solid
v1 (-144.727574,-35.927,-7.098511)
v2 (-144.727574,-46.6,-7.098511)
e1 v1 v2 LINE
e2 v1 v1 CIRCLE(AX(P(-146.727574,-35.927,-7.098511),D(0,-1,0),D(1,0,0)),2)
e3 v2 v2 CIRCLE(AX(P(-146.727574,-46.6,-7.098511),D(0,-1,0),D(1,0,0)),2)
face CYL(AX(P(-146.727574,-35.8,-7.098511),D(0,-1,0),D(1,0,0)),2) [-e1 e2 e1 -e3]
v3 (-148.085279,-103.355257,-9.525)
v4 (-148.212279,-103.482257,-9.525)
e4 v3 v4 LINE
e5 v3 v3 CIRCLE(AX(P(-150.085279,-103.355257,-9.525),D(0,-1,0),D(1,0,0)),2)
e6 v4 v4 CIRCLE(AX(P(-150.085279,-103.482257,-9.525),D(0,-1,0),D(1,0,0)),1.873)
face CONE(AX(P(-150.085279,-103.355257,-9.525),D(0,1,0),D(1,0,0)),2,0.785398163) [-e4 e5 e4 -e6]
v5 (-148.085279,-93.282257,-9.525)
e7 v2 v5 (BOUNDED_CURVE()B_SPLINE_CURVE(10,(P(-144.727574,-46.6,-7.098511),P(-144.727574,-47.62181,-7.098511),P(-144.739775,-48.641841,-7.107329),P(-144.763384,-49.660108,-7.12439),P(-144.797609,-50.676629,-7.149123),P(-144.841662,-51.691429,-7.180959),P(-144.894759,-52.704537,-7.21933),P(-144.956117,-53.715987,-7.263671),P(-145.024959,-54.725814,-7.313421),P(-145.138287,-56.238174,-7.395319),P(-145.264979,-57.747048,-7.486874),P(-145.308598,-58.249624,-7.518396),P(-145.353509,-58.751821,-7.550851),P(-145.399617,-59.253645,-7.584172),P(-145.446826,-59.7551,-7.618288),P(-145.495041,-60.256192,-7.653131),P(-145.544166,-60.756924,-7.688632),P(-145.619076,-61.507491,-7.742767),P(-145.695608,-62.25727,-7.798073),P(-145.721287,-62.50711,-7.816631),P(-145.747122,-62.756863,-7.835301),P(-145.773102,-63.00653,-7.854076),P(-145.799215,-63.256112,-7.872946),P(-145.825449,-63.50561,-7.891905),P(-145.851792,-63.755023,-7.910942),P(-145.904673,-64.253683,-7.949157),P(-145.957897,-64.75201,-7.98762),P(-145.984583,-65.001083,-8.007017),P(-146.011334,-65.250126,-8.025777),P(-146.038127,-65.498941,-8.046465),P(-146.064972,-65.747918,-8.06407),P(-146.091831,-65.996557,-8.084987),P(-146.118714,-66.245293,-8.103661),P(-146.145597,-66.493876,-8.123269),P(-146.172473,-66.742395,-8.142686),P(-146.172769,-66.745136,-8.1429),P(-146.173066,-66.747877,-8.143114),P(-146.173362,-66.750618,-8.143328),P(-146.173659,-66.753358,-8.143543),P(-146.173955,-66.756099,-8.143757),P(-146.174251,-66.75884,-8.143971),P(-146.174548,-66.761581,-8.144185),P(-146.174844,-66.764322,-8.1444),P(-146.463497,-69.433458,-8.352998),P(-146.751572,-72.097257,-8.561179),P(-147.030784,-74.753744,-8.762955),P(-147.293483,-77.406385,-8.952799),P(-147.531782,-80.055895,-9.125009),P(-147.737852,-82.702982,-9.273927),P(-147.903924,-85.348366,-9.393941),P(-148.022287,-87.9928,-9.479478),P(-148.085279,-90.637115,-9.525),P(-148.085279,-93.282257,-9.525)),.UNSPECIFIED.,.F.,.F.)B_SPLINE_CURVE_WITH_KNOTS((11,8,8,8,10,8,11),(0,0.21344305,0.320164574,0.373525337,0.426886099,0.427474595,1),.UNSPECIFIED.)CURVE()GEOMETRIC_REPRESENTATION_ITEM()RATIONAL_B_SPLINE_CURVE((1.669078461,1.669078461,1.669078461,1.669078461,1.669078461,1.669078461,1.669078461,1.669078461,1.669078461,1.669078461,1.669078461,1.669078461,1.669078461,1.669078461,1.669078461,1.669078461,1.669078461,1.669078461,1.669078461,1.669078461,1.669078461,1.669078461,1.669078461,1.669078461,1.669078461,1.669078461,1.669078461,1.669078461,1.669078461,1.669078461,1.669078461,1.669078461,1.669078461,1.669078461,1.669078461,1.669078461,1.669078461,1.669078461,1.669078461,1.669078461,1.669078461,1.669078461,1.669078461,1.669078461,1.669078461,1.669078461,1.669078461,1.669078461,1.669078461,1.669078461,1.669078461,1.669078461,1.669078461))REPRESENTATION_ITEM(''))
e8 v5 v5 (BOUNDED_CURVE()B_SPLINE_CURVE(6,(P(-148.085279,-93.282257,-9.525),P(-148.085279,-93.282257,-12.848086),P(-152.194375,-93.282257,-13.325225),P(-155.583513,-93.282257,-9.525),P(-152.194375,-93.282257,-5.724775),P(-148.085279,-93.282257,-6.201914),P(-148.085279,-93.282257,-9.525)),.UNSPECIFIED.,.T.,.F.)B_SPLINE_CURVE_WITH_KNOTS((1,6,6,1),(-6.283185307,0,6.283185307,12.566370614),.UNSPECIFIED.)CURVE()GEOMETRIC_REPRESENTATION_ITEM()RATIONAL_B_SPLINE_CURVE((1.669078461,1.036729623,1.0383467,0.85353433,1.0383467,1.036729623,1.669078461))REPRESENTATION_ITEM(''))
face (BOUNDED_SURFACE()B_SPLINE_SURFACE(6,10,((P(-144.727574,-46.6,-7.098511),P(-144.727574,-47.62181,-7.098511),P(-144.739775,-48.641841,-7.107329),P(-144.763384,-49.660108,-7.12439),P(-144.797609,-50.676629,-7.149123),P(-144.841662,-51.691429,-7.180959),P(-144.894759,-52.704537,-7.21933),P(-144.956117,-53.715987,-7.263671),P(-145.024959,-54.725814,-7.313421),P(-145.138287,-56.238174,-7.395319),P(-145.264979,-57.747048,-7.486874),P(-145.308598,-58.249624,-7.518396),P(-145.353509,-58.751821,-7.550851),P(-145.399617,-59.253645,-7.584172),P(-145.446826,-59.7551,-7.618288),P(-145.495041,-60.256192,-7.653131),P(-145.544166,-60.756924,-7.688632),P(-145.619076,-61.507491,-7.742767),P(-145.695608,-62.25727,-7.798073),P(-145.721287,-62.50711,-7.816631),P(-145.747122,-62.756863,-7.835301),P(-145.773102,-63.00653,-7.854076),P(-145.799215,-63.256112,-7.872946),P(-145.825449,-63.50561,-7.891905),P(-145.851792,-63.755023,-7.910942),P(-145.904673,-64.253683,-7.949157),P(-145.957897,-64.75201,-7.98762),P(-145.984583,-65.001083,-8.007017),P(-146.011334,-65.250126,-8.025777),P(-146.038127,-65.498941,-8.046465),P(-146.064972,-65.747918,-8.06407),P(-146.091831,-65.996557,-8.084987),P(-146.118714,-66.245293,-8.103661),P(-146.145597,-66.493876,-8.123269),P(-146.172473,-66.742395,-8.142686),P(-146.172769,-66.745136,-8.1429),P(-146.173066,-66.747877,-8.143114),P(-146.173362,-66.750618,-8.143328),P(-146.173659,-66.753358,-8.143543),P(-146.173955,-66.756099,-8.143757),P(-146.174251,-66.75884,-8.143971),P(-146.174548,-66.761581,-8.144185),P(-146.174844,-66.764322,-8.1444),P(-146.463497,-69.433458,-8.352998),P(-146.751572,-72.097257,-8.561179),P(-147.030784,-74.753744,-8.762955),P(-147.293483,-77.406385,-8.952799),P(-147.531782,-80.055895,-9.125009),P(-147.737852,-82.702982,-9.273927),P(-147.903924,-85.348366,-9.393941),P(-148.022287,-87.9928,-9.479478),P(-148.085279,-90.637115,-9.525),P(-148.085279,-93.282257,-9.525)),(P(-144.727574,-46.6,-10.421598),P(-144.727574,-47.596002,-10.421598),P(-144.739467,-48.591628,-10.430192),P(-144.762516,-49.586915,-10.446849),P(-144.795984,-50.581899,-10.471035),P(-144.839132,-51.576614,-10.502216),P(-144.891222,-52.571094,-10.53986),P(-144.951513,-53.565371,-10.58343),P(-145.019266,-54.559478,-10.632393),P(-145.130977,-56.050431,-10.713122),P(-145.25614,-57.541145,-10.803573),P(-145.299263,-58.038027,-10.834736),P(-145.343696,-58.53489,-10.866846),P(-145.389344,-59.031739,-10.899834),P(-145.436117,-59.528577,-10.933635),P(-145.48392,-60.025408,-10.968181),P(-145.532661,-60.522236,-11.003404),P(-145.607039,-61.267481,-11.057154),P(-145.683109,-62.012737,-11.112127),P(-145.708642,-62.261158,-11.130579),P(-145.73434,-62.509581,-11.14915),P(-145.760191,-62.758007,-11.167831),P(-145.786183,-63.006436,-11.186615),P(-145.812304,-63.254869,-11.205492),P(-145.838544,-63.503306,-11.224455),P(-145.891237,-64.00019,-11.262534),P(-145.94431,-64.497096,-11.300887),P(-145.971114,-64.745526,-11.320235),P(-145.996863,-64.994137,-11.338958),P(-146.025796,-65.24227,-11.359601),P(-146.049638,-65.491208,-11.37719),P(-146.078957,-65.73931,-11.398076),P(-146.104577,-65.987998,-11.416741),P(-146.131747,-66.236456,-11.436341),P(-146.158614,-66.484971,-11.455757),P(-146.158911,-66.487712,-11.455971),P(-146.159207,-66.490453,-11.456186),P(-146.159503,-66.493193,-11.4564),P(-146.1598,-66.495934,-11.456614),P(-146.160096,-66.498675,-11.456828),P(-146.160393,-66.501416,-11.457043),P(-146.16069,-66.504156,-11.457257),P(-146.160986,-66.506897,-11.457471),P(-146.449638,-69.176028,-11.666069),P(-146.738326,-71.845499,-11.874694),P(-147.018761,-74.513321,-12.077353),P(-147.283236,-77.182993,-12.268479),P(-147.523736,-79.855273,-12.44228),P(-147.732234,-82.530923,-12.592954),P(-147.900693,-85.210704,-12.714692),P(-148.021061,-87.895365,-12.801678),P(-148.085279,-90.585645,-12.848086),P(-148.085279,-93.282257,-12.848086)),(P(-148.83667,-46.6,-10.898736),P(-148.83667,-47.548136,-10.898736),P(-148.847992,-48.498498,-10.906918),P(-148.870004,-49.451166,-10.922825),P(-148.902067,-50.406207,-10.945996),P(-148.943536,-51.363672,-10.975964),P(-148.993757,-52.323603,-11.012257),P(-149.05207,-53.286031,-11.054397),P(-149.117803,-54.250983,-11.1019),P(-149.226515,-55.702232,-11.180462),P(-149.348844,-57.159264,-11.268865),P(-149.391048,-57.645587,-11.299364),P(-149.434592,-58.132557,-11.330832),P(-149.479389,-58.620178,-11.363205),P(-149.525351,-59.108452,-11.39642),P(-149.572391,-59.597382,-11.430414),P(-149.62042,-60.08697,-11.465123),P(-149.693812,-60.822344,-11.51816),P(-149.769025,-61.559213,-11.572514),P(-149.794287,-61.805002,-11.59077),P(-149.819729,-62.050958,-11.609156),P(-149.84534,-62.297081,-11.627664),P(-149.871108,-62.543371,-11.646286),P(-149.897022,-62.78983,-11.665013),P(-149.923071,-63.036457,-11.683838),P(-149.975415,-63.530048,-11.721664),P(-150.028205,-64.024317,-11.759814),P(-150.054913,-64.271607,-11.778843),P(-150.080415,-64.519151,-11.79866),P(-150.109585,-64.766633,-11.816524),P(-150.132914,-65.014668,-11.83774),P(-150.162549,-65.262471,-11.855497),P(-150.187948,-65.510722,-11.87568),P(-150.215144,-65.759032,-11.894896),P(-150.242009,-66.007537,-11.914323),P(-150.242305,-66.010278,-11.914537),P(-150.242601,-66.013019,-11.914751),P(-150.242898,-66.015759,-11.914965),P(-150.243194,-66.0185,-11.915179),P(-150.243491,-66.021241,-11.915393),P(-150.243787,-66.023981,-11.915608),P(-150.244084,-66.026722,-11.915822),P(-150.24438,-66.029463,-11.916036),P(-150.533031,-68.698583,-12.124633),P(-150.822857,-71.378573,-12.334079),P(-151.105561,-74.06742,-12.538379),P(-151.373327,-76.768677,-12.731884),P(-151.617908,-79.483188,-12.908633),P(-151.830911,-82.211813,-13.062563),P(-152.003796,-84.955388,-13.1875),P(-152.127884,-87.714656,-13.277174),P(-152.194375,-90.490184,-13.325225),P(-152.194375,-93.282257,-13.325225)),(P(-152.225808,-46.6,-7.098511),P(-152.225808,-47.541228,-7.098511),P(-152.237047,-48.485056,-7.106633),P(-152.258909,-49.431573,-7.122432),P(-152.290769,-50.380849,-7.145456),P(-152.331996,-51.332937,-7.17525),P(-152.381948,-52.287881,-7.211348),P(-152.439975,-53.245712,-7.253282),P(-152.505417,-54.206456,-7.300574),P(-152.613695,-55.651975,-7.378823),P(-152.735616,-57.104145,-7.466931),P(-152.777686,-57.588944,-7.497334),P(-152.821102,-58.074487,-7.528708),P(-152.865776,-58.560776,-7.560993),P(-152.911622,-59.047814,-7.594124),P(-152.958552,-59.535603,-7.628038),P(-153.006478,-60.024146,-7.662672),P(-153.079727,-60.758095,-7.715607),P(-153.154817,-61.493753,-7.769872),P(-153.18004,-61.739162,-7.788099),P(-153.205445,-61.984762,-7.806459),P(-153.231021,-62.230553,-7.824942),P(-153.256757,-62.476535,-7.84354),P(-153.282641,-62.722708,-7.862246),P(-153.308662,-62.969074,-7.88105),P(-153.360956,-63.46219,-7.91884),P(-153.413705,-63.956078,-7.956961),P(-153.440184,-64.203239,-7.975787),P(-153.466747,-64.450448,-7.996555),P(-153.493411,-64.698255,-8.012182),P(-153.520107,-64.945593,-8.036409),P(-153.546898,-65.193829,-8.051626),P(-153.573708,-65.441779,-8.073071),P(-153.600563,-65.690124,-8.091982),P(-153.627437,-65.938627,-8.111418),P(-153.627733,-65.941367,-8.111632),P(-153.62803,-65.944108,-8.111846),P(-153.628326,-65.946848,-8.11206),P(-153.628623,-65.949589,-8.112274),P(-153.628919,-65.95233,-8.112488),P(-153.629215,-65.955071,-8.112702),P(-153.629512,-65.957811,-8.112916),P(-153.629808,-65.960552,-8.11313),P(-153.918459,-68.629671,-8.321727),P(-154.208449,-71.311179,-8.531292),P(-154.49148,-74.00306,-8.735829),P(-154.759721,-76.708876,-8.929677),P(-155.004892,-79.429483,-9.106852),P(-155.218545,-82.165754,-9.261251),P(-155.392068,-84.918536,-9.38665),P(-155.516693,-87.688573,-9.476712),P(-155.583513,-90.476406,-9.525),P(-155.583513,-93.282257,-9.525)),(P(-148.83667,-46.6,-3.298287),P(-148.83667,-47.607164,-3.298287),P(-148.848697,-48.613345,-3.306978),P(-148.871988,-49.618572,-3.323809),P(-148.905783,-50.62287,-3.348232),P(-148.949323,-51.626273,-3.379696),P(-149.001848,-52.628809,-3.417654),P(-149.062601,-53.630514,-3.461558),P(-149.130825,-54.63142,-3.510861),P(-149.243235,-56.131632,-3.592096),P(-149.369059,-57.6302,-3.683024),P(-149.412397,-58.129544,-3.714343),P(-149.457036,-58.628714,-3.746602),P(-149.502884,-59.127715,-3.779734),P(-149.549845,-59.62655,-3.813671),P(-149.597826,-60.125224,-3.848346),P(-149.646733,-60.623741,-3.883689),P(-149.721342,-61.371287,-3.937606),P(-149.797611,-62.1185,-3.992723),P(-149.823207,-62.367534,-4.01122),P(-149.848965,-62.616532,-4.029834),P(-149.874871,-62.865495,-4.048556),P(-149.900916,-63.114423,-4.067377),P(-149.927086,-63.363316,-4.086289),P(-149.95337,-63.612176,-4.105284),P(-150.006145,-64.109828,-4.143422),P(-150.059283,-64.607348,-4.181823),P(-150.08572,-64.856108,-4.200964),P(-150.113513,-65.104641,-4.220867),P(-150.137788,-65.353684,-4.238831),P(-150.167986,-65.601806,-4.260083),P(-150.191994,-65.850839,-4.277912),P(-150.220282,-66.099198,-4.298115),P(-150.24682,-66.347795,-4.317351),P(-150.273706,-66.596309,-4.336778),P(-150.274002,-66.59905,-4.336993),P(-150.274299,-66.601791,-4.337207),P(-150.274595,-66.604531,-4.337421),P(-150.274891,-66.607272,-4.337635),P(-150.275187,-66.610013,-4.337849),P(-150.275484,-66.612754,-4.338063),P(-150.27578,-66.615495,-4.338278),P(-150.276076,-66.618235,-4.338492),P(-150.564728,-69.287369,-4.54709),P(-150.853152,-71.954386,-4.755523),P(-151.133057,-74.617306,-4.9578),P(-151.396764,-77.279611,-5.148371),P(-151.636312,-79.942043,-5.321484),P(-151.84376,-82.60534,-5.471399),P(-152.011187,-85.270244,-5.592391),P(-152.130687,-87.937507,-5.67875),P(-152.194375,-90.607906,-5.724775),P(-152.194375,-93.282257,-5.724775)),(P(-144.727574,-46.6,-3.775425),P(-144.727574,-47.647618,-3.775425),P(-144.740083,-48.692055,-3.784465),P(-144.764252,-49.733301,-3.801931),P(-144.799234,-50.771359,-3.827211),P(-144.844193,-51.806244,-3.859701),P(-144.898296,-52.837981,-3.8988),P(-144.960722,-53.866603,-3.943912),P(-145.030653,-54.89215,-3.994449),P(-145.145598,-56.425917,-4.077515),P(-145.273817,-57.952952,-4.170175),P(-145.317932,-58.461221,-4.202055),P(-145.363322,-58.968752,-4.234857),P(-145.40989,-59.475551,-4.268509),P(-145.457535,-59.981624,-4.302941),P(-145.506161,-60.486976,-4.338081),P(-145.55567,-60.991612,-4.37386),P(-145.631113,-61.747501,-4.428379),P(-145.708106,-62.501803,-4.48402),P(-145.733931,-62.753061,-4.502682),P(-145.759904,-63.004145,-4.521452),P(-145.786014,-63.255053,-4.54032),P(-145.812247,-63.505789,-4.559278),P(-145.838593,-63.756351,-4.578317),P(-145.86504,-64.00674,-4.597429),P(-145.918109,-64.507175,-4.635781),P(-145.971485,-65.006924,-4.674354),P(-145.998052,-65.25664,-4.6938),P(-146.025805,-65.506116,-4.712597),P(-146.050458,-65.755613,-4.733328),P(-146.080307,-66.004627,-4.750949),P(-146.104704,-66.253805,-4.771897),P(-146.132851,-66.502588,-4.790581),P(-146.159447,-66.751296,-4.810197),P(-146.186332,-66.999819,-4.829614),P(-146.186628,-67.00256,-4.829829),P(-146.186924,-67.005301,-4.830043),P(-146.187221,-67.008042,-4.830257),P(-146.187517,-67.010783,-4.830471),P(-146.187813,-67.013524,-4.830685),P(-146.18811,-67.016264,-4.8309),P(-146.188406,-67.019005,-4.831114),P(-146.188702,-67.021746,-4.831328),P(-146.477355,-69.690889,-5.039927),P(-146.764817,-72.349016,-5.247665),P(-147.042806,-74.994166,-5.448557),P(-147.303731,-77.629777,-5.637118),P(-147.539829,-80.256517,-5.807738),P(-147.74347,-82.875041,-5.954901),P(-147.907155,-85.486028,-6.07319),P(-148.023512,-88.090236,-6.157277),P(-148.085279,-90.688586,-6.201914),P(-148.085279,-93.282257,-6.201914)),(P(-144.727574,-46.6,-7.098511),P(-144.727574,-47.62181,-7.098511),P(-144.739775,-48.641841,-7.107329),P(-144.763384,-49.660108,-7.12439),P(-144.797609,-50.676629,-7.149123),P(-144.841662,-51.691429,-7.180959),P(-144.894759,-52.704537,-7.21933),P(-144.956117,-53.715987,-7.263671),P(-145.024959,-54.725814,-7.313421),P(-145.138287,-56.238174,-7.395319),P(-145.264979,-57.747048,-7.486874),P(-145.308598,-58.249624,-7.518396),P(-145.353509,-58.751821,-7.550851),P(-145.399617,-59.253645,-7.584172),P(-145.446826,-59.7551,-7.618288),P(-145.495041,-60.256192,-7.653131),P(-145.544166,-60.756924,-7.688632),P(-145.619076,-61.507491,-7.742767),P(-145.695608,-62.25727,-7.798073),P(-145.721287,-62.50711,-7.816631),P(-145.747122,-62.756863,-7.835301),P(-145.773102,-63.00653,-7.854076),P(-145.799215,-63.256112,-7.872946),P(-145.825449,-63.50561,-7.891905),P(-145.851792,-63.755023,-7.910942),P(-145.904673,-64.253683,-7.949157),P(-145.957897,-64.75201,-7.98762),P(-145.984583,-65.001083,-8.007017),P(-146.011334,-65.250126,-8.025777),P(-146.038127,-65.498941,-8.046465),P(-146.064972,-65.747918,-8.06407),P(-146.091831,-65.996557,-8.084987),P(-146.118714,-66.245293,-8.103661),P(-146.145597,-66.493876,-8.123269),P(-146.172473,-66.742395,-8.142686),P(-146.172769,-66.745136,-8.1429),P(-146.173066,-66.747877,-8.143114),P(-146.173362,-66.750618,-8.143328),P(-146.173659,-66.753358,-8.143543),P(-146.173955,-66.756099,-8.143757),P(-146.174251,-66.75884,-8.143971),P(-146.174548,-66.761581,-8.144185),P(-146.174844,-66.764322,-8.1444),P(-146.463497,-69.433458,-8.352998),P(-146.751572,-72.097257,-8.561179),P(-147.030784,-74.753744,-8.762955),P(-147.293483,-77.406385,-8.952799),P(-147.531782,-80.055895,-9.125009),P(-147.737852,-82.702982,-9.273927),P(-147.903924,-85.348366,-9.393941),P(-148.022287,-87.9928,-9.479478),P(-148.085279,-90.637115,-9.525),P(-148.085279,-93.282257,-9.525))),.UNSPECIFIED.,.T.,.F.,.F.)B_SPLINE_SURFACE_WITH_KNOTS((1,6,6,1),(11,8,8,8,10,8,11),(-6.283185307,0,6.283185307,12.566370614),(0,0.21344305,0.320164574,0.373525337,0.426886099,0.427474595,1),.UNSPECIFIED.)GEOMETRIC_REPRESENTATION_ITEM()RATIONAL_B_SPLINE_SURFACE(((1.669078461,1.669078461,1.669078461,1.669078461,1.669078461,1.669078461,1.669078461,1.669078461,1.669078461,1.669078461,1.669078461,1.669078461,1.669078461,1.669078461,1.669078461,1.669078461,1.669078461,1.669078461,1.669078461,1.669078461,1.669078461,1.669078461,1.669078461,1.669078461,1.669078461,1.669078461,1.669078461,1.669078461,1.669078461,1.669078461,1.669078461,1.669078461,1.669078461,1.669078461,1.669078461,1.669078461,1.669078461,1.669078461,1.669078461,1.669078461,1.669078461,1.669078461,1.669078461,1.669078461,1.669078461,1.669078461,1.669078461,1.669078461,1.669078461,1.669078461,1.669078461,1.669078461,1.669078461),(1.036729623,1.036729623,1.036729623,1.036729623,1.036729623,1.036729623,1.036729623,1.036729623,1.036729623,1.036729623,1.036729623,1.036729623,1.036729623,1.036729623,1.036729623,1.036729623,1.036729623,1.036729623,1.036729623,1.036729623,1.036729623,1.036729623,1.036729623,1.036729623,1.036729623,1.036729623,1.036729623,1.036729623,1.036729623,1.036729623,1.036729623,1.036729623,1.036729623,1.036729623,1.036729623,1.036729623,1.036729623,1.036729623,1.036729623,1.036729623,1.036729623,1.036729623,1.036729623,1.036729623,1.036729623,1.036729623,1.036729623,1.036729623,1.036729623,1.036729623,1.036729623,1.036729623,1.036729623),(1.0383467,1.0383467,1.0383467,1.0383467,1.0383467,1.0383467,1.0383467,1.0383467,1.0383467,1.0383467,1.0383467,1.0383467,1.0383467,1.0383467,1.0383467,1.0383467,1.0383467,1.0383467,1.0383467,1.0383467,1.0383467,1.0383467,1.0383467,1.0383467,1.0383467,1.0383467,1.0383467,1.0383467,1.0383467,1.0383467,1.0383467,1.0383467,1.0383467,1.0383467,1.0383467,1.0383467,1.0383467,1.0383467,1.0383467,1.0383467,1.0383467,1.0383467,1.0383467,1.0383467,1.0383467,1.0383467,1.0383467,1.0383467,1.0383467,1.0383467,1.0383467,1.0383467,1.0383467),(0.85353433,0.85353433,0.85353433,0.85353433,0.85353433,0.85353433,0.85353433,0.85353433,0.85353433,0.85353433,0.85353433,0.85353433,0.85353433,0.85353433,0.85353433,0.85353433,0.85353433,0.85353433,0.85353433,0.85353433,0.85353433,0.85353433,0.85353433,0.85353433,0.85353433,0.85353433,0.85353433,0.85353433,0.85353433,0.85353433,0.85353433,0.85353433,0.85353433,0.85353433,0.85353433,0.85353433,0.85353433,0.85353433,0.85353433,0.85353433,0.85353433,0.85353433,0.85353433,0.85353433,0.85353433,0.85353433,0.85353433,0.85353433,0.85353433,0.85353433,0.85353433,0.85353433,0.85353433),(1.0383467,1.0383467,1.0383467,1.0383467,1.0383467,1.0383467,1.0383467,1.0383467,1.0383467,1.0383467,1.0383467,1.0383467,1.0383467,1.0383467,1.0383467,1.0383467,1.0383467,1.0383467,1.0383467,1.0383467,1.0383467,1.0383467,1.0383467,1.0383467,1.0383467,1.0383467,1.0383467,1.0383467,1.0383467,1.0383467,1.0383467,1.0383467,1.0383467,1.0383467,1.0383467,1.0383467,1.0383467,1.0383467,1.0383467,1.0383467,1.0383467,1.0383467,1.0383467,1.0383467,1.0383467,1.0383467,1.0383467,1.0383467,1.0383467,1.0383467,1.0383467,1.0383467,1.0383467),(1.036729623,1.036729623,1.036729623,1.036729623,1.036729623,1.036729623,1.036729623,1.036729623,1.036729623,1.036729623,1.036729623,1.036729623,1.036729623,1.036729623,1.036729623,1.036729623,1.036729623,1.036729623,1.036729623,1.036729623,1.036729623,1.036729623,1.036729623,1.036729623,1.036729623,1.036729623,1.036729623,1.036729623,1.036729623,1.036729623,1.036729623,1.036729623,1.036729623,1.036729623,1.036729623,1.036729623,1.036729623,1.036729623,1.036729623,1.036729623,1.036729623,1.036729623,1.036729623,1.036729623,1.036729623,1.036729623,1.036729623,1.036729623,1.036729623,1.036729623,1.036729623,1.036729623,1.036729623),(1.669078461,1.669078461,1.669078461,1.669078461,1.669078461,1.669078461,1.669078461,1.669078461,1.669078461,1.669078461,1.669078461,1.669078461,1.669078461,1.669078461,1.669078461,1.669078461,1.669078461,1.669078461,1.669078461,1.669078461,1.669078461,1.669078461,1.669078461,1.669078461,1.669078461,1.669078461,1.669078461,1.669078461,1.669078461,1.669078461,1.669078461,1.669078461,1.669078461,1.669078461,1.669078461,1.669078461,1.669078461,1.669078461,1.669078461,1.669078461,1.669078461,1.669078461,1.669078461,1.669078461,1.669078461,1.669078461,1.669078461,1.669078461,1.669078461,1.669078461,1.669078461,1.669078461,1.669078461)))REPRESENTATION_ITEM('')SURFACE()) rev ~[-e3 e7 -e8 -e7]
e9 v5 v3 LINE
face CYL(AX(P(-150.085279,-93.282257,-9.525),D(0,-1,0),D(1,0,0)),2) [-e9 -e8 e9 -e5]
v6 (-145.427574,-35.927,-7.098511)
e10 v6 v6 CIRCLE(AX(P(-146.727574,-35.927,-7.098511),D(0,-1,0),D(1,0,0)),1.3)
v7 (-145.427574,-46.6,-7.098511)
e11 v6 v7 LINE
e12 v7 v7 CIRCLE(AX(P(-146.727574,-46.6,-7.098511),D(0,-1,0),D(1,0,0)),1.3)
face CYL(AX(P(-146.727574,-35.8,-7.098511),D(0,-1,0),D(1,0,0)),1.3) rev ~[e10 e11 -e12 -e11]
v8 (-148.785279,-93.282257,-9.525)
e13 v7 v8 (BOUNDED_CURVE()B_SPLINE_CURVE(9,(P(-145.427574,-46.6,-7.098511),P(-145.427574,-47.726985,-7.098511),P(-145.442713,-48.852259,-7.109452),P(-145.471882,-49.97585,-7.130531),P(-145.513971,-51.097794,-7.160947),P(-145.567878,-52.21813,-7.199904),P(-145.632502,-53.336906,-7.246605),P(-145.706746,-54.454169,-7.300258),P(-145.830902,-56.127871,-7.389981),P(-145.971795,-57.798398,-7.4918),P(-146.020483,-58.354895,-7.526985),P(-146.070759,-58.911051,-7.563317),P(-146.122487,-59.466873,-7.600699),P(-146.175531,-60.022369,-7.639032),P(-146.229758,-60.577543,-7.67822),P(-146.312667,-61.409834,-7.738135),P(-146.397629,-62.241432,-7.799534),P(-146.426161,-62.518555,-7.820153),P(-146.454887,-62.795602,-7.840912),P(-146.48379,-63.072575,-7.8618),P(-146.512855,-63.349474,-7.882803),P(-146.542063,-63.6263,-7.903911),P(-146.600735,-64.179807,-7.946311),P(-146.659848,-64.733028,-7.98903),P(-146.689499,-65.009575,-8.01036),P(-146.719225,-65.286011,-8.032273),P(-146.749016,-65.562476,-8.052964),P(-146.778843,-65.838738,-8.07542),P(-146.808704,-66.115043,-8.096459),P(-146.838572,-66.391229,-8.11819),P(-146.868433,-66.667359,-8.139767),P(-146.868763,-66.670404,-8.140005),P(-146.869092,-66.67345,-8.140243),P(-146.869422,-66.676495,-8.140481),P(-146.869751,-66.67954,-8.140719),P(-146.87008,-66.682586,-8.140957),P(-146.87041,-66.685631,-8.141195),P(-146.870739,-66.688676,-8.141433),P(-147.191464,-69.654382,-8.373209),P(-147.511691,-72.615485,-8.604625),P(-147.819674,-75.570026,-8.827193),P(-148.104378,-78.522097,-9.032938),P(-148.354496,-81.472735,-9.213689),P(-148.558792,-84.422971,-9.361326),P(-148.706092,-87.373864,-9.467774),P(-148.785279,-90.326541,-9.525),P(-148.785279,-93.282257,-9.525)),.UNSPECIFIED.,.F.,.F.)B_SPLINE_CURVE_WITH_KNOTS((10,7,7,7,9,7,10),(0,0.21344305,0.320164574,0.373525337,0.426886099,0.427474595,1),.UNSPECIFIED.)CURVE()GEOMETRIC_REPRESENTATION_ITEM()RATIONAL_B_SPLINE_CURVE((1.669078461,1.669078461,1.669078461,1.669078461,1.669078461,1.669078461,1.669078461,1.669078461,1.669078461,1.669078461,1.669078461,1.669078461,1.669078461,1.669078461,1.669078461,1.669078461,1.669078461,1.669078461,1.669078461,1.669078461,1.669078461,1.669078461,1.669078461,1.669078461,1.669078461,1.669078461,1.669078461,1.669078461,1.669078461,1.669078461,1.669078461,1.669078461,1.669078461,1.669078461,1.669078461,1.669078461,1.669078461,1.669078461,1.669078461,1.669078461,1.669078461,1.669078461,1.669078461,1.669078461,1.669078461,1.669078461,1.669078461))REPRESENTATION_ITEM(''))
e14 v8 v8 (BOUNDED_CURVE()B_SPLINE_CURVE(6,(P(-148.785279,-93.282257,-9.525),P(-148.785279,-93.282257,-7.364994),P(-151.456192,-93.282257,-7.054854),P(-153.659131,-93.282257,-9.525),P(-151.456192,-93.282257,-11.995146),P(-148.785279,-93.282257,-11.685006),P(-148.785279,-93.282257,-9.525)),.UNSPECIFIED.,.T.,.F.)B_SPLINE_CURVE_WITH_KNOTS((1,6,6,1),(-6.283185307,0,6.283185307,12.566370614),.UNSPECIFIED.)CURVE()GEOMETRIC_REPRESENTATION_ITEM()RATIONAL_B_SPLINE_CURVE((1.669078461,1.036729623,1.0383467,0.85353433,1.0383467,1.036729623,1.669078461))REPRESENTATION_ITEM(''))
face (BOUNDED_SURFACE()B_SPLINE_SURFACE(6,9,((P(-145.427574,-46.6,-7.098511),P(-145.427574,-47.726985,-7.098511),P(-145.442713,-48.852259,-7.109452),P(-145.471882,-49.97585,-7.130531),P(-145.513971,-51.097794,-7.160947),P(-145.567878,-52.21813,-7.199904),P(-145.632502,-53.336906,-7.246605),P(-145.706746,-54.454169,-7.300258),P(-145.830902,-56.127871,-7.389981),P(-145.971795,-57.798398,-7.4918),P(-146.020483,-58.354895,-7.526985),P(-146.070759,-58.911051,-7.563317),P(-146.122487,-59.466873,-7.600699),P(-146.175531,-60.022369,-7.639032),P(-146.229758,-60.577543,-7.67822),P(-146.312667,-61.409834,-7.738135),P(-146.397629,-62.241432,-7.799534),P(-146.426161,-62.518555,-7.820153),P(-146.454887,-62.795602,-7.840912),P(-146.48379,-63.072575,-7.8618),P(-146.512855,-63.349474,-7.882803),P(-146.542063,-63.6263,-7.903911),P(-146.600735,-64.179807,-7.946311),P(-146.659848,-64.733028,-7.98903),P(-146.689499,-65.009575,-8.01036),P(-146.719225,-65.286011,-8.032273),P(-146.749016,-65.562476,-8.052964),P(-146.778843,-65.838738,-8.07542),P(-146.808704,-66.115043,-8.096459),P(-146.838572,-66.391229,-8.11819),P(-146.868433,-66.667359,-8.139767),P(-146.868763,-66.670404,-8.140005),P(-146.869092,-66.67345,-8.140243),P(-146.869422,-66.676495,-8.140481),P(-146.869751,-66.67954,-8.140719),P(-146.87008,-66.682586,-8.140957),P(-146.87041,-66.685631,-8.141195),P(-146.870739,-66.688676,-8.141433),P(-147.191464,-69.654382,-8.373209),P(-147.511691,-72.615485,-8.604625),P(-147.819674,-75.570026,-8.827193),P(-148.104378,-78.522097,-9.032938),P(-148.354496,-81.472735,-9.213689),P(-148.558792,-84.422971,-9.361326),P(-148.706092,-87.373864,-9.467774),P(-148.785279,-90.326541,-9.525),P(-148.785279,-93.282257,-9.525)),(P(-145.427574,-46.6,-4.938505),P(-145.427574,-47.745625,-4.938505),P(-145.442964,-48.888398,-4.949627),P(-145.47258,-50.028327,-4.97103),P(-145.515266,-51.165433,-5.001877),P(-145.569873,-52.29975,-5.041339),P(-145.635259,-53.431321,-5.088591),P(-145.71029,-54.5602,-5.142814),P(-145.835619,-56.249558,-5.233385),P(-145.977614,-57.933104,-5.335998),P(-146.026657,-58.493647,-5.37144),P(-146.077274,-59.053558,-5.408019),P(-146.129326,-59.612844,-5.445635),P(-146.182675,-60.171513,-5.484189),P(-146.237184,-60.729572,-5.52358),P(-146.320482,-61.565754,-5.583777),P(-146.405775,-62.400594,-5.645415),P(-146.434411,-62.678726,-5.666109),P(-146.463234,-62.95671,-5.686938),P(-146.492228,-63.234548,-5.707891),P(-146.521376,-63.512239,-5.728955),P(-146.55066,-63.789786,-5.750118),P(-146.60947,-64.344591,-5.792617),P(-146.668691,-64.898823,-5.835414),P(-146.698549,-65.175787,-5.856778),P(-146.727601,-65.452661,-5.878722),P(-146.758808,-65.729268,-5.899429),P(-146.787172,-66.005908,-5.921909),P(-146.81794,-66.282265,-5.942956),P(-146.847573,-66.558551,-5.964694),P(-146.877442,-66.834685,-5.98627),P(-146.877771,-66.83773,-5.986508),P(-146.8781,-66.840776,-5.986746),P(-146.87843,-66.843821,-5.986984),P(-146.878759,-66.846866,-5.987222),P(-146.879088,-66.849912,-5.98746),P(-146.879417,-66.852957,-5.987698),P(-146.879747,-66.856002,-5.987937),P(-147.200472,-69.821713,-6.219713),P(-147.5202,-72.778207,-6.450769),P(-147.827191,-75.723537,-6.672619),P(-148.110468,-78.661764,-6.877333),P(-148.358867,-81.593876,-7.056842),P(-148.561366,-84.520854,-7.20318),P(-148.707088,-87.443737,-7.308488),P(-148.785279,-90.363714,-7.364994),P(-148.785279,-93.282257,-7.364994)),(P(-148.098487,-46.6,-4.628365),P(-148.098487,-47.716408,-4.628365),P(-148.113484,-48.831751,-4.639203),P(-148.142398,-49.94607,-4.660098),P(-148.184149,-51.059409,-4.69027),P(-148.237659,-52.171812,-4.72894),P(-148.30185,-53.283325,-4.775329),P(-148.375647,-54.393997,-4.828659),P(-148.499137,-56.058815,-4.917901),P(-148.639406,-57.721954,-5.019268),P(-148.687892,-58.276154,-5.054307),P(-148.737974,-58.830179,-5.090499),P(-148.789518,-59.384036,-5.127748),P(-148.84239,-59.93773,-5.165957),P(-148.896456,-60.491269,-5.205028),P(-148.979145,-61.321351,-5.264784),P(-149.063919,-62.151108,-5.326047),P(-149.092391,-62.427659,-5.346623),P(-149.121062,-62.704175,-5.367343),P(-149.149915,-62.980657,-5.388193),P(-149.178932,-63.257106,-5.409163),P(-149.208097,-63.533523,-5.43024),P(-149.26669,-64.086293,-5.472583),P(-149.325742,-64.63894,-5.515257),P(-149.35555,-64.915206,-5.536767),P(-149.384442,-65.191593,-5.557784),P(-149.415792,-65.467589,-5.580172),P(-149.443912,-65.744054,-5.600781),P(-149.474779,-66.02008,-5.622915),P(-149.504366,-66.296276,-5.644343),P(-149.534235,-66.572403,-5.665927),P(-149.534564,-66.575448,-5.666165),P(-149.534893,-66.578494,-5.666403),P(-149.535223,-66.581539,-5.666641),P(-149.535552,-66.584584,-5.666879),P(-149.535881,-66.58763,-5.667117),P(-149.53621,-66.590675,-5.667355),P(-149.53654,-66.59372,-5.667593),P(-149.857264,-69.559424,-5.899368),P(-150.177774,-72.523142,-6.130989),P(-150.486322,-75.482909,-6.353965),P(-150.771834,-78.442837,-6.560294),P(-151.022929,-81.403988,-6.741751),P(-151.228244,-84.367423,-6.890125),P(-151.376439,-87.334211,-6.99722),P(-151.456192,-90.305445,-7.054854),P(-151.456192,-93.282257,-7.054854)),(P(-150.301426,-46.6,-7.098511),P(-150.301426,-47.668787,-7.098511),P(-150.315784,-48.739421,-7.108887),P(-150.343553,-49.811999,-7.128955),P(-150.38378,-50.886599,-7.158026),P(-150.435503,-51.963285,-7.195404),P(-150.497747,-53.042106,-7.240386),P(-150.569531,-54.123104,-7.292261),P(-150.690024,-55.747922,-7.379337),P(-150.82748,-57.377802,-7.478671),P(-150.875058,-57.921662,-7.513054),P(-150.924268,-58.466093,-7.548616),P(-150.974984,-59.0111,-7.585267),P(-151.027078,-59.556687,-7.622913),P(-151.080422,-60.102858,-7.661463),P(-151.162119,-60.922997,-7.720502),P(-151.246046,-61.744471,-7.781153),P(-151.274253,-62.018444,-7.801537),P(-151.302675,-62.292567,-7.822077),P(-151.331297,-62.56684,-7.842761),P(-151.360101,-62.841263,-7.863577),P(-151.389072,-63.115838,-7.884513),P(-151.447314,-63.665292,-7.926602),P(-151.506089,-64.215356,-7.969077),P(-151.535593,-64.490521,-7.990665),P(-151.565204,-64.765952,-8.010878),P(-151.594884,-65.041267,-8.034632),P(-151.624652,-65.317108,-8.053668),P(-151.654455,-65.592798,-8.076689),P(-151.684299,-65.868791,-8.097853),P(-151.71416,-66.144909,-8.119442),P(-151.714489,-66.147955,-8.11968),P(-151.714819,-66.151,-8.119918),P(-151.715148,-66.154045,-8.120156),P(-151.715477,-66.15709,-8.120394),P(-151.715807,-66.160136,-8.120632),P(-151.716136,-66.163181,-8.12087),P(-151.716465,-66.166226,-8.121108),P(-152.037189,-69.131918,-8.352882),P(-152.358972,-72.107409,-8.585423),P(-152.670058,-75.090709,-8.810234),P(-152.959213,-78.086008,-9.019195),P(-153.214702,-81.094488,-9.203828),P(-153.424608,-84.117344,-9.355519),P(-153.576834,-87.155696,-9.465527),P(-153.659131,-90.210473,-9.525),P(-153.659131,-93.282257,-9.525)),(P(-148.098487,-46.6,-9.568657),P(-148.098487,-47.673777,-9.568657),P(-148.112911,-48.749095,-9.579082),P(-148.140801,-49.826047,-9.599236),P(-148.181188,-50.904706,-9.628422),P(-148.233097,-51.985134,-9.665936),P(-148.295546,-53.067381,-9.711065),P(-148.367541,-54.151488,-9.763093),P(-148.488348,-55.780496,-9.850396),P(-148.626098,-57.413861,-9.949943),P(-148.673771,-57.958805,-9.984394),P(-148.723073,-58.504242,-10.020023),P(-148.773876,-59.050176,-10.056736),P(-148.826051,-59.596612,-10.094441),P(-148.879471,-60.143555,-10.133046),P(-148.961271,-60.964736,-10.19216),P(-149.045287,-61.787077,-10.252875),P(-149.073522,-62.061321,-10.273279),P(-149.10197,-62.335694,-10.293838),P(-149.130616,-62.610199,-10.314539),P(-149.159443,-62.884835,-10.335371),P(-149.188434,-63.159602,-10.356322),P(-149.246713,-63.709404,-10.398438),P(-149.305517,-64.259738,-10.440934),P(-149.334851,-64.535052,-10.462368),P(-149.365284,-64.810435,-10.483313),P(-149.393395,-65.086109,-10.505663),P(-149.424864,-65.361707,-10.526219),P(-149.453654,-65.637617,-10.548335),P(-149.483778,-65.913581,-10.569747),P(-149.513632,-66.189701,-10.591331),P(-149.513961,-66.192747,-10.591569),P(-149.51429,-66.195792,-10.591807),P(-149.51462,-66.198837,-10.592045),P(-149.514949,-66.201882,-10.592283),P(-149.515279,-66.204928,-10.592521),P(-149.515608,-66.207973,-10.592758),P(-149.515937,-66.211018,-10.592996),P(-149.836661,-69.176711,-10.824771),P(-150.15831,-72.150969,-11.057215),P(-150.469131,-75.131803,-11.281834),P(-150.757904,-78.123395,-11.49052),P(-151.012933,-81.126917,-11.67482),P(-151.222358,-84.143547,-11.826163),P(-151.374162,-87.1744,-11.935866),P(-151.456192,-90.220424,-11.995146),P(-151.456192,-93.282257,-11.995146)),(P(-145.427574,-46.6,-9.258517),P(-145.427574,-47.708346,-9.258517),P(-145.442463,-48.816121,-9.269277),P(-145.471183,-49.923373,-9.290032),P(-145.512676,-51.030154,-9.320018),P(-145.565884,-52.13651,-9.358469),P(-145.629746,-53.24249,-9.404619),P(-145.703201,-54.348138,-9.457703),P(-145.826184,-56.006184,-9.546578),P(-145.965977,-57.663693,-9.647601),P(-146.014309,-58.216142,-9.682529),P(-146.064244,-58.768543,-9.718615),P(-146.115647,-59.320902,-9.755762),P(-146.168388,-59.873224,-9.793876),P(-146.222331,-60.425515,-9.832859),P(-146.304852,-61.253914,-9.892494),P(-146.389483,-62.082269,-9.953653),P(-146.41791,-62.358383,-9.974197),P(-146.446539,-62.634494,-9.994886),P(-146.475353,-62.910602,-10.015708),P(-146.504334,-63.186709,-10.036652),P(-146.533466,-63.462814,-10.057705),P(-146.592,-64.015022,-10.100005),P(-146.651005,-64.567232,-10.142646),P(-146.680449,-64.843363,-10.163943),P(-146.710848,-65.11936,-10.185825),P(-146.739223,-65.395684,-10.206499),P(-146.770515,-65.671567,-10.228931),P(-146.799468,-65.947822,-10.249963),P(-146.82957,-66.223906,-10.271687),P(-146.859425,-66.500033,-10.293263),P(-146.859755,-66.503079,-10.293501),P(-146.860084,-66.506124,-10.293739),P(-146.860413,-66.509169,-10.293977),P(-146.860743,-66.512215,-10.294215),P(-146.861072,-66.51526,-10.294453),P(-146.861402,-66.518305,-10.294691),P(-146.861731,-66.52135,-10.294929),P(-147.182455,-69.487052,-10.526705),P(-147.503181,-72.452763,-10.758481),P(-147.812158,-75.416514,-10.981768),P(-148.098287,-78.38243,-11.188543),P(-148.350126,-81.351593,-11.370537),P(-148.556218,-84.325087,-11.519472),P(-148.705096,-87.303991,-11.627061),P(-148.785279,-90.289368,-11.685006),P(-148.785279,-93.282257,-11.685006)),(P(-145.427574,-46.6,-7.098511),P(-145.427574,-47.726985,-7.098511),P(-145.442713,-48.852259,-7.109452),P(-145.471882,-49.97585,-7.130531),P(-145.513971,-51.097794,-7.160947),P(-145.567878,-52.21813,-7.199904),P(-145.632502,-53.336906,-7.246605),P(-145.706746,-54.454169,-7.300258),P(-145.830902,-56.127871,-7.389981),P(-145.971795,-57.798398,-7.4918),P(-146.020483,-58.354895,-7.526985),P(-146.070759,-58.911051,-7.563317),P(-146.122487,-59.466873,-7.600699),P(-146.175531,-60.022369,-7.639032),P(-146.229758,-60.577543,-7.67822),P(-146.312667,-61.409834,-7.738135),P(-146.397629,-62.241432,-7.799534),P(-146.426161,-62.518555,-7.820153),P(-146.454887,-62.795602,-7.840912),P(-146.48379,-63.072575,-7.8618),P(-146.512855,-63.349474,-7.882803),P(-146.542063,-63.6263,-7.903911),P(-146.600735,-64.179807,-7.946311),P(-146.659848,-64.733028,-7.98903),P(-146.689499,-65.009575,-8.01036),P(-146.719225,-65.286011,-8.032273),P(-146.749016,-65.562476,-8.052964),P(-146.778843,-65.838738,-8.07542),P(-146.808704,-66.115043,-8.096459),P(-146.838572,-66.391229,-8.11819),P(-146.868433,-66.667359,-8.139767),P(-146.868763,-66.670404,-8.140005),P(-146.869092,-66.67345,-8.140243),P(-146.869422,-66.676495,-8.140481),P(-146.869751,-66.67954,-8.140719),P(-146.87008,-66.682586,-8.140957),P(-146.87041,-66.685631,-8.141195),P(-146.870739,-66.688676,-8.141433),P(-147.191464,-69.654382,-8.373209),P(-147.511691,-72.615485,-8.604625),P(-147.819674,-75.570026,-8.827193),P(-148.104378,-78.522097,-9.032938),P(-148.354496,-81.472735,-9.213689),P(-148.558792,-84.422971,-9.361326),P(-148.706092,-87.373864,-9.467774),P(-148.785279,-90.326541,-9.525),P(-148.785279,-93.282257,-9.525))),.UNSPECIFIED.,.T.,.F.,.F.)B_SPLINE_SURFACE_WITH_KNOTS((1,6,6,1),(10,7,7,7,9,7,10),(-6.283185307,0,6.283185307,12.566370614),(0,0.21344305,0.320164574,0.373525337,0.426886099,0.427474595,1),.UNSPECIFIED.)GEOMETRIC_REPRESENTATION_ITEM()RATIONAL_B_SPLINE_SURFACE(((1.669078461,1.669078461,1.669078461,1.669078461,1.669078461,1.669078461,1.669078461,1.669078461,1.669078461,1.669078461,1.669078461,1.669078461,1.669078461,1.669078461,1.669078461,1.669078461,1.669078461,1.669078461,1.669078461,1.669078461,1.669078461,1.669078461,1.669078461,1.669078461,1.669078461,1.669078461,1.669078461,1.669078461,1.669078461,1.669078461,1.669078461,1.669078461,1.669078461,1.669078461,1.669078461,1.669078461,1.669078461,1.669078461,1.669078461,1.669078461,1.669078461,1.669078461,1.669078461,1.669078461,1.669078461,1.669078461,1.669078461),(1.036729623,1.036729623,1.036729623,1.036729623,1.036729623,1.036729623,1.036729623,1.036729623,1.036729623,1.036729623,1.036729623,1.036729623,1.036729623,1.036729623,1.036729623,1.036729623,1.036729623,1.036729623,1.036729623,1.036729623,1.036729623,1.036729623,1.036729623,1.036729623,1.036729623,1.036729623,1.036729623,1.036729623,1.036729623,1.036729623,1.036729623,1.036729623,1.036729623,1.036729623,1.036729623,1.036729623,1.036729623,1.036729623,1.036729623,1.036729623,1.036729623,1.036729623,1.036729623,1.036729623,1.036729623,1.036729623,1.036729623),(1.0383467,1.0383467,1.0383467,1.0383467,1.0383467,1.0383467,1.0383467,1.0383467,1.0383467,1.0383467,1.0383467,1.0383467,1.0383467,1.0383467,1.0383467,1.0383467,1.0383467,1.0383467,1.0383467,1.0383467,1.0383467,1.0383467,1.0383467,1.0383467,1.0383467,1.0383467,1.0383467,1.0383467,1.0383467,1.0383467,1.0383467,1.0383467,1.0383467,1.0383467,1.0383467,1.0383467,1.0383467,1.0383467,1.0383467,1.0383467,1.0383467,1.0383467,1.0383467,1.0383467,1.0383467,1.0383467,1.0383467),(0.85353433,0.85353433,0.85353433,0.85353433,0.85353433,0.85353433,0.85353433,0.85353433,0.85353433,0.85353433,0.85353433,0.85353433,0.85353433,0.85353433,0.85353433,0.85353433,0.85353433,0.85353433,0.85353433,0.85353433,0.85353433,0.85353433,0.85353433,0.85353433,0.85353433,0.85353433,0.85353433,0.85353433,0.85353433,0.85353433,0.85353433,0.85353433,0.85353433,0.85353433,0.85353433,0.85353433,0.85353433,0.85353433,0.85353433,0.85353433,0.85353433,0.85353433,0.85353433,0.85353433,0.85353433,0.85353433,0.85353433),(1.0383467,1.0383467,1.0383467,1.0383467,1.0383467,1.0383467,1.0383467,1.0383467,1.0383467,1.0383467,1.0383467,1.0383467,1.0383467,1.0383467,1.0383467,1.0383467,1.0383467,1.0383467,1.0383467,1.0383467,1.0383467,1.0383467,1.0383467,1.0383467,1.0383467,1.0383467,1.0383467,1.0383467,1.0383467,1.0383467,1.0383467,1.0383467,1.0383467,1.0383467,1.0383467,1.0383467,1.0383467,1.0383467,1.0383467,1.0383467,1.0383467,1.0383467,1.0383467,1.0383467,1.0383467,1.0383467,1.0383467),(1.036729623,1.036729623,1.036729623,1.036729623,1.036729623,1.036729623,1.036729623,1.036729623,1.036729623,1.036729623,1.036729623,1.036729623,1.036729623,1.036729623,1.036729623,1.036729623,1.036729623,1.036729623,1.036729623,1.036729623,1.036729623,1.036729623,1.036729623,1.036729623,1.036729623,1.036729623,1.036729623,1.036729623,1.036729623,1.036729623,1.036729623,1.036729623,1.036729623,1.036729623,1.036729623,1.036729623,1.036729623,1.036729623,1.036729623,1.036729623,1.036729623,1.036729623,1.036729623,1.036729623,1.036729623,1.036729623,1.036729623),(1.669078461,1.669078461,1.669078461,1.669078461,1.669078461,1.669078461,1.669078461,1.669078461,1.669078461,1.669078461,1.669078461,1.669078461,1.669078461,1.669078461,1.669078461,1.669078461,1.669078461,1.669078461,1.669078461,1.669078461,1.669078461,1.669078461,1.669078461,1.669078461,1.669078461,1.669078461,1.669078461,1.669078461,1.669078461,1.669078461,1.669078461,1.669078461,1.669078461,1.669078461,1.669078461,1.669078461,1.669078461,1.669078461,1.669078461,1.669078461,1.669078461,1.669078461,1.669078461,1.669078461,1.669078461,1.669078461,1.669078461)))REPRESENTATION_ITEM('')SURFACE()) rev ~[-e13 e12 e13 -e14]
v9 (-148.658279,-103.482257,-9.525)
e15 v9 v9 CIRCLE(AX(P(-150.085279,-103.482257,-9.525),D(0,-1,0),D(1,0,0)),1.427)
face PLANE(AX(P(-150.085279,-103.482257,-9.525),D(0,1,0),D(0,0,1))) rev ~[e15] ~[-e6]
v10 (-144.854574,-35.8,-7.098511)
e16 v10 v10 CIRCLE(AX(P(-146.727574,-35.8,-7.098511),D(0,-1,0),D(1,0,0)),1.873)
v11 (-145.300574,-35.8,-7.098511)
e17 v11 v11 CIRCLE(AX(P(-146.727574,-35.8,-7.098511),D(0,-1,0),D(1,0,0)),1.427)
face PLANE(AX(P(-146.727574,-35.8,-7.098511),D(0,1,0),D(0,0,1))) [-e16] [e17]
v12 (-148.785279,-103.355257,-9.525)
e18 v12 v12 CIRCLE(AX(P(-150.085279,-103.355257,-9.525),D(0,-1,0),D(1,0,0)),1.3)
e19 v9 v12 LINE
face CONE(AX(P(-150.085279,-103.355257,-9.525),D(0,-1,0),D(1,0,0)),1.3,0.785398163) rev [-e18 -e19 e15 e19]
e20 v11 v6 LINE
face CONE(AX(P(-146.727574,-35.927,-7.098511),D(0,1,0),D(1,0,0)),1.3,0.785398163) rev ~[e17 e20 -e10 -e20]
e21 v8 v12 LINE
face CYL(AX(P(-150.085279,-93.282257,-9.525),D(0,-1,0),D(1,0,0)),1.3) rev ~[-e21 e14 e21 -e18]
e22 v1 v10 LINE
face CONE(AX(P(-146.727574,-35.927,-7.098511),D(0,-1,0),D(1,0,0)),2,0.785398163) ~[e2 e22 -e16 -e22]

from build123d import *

# Parameters (mm, degrees)
SKETCH1_R     = 2
SKETCH1_R_2   = 1.3
CHAMFER1_SIZE = 0.127


with BuildPart() as part:
    # Sweep1: sweep along a curve in space
    with BuildLine() as sweep1_path:
        Line((-150.085279081, -93.282256564, -9.525), (-150.085279081, -103.482256564, -9.525))
        add(Edge.make_bspline(
            [(-146.727574012, -46.6, -7.098511382), (-146.727574012, -53.268773691, -7.098511382), (-148.406426547, -68.804947167, -8.311755691), (-150.085279081, -84.313023079, -9.525), (-150.085279081, -93.282256564, -9.525)],
            knots=[0, 0, 0, 0, 0.426886099, 1, 1, 1, 1], degree=3))
        Line((-146.727574012, -35.8, -7.098511382), (-146.727574012, -46.6, -7.098511382))
    # Sketch1 → Sweep1 (sweep)
    with BuildSketch(Plane(origin=(0, -95.382256564, 0), x_dir=(1, 0, 0), z_dir=(0, 1, 0))):
        with Locations((-150.085279081, 9.525)):
            Circle(SKETCH1_R)
        with Locations((-150.085279081, 9.525)):
            Circle(SKETCH1_R_2, mode=Mode.SUBTRACT)
    sweep(path=sweep1_path.line)

    # Chamfer1
    chamfer1_edges = [part.edges().sort_by_distance(p)[0] for p in [
        (-148.027574012, -35.8, -7.098511382),
        (-148.727574012, -35.8, -7.098511382),
        (-151.385279081, -103.482256564, -9.525),
        (-152.085279081, -103.482256564, -9.525),
    ]]
    chamfer(chamfer1_edges, length=CHAMFER1_SIZE)


solid = part.part
